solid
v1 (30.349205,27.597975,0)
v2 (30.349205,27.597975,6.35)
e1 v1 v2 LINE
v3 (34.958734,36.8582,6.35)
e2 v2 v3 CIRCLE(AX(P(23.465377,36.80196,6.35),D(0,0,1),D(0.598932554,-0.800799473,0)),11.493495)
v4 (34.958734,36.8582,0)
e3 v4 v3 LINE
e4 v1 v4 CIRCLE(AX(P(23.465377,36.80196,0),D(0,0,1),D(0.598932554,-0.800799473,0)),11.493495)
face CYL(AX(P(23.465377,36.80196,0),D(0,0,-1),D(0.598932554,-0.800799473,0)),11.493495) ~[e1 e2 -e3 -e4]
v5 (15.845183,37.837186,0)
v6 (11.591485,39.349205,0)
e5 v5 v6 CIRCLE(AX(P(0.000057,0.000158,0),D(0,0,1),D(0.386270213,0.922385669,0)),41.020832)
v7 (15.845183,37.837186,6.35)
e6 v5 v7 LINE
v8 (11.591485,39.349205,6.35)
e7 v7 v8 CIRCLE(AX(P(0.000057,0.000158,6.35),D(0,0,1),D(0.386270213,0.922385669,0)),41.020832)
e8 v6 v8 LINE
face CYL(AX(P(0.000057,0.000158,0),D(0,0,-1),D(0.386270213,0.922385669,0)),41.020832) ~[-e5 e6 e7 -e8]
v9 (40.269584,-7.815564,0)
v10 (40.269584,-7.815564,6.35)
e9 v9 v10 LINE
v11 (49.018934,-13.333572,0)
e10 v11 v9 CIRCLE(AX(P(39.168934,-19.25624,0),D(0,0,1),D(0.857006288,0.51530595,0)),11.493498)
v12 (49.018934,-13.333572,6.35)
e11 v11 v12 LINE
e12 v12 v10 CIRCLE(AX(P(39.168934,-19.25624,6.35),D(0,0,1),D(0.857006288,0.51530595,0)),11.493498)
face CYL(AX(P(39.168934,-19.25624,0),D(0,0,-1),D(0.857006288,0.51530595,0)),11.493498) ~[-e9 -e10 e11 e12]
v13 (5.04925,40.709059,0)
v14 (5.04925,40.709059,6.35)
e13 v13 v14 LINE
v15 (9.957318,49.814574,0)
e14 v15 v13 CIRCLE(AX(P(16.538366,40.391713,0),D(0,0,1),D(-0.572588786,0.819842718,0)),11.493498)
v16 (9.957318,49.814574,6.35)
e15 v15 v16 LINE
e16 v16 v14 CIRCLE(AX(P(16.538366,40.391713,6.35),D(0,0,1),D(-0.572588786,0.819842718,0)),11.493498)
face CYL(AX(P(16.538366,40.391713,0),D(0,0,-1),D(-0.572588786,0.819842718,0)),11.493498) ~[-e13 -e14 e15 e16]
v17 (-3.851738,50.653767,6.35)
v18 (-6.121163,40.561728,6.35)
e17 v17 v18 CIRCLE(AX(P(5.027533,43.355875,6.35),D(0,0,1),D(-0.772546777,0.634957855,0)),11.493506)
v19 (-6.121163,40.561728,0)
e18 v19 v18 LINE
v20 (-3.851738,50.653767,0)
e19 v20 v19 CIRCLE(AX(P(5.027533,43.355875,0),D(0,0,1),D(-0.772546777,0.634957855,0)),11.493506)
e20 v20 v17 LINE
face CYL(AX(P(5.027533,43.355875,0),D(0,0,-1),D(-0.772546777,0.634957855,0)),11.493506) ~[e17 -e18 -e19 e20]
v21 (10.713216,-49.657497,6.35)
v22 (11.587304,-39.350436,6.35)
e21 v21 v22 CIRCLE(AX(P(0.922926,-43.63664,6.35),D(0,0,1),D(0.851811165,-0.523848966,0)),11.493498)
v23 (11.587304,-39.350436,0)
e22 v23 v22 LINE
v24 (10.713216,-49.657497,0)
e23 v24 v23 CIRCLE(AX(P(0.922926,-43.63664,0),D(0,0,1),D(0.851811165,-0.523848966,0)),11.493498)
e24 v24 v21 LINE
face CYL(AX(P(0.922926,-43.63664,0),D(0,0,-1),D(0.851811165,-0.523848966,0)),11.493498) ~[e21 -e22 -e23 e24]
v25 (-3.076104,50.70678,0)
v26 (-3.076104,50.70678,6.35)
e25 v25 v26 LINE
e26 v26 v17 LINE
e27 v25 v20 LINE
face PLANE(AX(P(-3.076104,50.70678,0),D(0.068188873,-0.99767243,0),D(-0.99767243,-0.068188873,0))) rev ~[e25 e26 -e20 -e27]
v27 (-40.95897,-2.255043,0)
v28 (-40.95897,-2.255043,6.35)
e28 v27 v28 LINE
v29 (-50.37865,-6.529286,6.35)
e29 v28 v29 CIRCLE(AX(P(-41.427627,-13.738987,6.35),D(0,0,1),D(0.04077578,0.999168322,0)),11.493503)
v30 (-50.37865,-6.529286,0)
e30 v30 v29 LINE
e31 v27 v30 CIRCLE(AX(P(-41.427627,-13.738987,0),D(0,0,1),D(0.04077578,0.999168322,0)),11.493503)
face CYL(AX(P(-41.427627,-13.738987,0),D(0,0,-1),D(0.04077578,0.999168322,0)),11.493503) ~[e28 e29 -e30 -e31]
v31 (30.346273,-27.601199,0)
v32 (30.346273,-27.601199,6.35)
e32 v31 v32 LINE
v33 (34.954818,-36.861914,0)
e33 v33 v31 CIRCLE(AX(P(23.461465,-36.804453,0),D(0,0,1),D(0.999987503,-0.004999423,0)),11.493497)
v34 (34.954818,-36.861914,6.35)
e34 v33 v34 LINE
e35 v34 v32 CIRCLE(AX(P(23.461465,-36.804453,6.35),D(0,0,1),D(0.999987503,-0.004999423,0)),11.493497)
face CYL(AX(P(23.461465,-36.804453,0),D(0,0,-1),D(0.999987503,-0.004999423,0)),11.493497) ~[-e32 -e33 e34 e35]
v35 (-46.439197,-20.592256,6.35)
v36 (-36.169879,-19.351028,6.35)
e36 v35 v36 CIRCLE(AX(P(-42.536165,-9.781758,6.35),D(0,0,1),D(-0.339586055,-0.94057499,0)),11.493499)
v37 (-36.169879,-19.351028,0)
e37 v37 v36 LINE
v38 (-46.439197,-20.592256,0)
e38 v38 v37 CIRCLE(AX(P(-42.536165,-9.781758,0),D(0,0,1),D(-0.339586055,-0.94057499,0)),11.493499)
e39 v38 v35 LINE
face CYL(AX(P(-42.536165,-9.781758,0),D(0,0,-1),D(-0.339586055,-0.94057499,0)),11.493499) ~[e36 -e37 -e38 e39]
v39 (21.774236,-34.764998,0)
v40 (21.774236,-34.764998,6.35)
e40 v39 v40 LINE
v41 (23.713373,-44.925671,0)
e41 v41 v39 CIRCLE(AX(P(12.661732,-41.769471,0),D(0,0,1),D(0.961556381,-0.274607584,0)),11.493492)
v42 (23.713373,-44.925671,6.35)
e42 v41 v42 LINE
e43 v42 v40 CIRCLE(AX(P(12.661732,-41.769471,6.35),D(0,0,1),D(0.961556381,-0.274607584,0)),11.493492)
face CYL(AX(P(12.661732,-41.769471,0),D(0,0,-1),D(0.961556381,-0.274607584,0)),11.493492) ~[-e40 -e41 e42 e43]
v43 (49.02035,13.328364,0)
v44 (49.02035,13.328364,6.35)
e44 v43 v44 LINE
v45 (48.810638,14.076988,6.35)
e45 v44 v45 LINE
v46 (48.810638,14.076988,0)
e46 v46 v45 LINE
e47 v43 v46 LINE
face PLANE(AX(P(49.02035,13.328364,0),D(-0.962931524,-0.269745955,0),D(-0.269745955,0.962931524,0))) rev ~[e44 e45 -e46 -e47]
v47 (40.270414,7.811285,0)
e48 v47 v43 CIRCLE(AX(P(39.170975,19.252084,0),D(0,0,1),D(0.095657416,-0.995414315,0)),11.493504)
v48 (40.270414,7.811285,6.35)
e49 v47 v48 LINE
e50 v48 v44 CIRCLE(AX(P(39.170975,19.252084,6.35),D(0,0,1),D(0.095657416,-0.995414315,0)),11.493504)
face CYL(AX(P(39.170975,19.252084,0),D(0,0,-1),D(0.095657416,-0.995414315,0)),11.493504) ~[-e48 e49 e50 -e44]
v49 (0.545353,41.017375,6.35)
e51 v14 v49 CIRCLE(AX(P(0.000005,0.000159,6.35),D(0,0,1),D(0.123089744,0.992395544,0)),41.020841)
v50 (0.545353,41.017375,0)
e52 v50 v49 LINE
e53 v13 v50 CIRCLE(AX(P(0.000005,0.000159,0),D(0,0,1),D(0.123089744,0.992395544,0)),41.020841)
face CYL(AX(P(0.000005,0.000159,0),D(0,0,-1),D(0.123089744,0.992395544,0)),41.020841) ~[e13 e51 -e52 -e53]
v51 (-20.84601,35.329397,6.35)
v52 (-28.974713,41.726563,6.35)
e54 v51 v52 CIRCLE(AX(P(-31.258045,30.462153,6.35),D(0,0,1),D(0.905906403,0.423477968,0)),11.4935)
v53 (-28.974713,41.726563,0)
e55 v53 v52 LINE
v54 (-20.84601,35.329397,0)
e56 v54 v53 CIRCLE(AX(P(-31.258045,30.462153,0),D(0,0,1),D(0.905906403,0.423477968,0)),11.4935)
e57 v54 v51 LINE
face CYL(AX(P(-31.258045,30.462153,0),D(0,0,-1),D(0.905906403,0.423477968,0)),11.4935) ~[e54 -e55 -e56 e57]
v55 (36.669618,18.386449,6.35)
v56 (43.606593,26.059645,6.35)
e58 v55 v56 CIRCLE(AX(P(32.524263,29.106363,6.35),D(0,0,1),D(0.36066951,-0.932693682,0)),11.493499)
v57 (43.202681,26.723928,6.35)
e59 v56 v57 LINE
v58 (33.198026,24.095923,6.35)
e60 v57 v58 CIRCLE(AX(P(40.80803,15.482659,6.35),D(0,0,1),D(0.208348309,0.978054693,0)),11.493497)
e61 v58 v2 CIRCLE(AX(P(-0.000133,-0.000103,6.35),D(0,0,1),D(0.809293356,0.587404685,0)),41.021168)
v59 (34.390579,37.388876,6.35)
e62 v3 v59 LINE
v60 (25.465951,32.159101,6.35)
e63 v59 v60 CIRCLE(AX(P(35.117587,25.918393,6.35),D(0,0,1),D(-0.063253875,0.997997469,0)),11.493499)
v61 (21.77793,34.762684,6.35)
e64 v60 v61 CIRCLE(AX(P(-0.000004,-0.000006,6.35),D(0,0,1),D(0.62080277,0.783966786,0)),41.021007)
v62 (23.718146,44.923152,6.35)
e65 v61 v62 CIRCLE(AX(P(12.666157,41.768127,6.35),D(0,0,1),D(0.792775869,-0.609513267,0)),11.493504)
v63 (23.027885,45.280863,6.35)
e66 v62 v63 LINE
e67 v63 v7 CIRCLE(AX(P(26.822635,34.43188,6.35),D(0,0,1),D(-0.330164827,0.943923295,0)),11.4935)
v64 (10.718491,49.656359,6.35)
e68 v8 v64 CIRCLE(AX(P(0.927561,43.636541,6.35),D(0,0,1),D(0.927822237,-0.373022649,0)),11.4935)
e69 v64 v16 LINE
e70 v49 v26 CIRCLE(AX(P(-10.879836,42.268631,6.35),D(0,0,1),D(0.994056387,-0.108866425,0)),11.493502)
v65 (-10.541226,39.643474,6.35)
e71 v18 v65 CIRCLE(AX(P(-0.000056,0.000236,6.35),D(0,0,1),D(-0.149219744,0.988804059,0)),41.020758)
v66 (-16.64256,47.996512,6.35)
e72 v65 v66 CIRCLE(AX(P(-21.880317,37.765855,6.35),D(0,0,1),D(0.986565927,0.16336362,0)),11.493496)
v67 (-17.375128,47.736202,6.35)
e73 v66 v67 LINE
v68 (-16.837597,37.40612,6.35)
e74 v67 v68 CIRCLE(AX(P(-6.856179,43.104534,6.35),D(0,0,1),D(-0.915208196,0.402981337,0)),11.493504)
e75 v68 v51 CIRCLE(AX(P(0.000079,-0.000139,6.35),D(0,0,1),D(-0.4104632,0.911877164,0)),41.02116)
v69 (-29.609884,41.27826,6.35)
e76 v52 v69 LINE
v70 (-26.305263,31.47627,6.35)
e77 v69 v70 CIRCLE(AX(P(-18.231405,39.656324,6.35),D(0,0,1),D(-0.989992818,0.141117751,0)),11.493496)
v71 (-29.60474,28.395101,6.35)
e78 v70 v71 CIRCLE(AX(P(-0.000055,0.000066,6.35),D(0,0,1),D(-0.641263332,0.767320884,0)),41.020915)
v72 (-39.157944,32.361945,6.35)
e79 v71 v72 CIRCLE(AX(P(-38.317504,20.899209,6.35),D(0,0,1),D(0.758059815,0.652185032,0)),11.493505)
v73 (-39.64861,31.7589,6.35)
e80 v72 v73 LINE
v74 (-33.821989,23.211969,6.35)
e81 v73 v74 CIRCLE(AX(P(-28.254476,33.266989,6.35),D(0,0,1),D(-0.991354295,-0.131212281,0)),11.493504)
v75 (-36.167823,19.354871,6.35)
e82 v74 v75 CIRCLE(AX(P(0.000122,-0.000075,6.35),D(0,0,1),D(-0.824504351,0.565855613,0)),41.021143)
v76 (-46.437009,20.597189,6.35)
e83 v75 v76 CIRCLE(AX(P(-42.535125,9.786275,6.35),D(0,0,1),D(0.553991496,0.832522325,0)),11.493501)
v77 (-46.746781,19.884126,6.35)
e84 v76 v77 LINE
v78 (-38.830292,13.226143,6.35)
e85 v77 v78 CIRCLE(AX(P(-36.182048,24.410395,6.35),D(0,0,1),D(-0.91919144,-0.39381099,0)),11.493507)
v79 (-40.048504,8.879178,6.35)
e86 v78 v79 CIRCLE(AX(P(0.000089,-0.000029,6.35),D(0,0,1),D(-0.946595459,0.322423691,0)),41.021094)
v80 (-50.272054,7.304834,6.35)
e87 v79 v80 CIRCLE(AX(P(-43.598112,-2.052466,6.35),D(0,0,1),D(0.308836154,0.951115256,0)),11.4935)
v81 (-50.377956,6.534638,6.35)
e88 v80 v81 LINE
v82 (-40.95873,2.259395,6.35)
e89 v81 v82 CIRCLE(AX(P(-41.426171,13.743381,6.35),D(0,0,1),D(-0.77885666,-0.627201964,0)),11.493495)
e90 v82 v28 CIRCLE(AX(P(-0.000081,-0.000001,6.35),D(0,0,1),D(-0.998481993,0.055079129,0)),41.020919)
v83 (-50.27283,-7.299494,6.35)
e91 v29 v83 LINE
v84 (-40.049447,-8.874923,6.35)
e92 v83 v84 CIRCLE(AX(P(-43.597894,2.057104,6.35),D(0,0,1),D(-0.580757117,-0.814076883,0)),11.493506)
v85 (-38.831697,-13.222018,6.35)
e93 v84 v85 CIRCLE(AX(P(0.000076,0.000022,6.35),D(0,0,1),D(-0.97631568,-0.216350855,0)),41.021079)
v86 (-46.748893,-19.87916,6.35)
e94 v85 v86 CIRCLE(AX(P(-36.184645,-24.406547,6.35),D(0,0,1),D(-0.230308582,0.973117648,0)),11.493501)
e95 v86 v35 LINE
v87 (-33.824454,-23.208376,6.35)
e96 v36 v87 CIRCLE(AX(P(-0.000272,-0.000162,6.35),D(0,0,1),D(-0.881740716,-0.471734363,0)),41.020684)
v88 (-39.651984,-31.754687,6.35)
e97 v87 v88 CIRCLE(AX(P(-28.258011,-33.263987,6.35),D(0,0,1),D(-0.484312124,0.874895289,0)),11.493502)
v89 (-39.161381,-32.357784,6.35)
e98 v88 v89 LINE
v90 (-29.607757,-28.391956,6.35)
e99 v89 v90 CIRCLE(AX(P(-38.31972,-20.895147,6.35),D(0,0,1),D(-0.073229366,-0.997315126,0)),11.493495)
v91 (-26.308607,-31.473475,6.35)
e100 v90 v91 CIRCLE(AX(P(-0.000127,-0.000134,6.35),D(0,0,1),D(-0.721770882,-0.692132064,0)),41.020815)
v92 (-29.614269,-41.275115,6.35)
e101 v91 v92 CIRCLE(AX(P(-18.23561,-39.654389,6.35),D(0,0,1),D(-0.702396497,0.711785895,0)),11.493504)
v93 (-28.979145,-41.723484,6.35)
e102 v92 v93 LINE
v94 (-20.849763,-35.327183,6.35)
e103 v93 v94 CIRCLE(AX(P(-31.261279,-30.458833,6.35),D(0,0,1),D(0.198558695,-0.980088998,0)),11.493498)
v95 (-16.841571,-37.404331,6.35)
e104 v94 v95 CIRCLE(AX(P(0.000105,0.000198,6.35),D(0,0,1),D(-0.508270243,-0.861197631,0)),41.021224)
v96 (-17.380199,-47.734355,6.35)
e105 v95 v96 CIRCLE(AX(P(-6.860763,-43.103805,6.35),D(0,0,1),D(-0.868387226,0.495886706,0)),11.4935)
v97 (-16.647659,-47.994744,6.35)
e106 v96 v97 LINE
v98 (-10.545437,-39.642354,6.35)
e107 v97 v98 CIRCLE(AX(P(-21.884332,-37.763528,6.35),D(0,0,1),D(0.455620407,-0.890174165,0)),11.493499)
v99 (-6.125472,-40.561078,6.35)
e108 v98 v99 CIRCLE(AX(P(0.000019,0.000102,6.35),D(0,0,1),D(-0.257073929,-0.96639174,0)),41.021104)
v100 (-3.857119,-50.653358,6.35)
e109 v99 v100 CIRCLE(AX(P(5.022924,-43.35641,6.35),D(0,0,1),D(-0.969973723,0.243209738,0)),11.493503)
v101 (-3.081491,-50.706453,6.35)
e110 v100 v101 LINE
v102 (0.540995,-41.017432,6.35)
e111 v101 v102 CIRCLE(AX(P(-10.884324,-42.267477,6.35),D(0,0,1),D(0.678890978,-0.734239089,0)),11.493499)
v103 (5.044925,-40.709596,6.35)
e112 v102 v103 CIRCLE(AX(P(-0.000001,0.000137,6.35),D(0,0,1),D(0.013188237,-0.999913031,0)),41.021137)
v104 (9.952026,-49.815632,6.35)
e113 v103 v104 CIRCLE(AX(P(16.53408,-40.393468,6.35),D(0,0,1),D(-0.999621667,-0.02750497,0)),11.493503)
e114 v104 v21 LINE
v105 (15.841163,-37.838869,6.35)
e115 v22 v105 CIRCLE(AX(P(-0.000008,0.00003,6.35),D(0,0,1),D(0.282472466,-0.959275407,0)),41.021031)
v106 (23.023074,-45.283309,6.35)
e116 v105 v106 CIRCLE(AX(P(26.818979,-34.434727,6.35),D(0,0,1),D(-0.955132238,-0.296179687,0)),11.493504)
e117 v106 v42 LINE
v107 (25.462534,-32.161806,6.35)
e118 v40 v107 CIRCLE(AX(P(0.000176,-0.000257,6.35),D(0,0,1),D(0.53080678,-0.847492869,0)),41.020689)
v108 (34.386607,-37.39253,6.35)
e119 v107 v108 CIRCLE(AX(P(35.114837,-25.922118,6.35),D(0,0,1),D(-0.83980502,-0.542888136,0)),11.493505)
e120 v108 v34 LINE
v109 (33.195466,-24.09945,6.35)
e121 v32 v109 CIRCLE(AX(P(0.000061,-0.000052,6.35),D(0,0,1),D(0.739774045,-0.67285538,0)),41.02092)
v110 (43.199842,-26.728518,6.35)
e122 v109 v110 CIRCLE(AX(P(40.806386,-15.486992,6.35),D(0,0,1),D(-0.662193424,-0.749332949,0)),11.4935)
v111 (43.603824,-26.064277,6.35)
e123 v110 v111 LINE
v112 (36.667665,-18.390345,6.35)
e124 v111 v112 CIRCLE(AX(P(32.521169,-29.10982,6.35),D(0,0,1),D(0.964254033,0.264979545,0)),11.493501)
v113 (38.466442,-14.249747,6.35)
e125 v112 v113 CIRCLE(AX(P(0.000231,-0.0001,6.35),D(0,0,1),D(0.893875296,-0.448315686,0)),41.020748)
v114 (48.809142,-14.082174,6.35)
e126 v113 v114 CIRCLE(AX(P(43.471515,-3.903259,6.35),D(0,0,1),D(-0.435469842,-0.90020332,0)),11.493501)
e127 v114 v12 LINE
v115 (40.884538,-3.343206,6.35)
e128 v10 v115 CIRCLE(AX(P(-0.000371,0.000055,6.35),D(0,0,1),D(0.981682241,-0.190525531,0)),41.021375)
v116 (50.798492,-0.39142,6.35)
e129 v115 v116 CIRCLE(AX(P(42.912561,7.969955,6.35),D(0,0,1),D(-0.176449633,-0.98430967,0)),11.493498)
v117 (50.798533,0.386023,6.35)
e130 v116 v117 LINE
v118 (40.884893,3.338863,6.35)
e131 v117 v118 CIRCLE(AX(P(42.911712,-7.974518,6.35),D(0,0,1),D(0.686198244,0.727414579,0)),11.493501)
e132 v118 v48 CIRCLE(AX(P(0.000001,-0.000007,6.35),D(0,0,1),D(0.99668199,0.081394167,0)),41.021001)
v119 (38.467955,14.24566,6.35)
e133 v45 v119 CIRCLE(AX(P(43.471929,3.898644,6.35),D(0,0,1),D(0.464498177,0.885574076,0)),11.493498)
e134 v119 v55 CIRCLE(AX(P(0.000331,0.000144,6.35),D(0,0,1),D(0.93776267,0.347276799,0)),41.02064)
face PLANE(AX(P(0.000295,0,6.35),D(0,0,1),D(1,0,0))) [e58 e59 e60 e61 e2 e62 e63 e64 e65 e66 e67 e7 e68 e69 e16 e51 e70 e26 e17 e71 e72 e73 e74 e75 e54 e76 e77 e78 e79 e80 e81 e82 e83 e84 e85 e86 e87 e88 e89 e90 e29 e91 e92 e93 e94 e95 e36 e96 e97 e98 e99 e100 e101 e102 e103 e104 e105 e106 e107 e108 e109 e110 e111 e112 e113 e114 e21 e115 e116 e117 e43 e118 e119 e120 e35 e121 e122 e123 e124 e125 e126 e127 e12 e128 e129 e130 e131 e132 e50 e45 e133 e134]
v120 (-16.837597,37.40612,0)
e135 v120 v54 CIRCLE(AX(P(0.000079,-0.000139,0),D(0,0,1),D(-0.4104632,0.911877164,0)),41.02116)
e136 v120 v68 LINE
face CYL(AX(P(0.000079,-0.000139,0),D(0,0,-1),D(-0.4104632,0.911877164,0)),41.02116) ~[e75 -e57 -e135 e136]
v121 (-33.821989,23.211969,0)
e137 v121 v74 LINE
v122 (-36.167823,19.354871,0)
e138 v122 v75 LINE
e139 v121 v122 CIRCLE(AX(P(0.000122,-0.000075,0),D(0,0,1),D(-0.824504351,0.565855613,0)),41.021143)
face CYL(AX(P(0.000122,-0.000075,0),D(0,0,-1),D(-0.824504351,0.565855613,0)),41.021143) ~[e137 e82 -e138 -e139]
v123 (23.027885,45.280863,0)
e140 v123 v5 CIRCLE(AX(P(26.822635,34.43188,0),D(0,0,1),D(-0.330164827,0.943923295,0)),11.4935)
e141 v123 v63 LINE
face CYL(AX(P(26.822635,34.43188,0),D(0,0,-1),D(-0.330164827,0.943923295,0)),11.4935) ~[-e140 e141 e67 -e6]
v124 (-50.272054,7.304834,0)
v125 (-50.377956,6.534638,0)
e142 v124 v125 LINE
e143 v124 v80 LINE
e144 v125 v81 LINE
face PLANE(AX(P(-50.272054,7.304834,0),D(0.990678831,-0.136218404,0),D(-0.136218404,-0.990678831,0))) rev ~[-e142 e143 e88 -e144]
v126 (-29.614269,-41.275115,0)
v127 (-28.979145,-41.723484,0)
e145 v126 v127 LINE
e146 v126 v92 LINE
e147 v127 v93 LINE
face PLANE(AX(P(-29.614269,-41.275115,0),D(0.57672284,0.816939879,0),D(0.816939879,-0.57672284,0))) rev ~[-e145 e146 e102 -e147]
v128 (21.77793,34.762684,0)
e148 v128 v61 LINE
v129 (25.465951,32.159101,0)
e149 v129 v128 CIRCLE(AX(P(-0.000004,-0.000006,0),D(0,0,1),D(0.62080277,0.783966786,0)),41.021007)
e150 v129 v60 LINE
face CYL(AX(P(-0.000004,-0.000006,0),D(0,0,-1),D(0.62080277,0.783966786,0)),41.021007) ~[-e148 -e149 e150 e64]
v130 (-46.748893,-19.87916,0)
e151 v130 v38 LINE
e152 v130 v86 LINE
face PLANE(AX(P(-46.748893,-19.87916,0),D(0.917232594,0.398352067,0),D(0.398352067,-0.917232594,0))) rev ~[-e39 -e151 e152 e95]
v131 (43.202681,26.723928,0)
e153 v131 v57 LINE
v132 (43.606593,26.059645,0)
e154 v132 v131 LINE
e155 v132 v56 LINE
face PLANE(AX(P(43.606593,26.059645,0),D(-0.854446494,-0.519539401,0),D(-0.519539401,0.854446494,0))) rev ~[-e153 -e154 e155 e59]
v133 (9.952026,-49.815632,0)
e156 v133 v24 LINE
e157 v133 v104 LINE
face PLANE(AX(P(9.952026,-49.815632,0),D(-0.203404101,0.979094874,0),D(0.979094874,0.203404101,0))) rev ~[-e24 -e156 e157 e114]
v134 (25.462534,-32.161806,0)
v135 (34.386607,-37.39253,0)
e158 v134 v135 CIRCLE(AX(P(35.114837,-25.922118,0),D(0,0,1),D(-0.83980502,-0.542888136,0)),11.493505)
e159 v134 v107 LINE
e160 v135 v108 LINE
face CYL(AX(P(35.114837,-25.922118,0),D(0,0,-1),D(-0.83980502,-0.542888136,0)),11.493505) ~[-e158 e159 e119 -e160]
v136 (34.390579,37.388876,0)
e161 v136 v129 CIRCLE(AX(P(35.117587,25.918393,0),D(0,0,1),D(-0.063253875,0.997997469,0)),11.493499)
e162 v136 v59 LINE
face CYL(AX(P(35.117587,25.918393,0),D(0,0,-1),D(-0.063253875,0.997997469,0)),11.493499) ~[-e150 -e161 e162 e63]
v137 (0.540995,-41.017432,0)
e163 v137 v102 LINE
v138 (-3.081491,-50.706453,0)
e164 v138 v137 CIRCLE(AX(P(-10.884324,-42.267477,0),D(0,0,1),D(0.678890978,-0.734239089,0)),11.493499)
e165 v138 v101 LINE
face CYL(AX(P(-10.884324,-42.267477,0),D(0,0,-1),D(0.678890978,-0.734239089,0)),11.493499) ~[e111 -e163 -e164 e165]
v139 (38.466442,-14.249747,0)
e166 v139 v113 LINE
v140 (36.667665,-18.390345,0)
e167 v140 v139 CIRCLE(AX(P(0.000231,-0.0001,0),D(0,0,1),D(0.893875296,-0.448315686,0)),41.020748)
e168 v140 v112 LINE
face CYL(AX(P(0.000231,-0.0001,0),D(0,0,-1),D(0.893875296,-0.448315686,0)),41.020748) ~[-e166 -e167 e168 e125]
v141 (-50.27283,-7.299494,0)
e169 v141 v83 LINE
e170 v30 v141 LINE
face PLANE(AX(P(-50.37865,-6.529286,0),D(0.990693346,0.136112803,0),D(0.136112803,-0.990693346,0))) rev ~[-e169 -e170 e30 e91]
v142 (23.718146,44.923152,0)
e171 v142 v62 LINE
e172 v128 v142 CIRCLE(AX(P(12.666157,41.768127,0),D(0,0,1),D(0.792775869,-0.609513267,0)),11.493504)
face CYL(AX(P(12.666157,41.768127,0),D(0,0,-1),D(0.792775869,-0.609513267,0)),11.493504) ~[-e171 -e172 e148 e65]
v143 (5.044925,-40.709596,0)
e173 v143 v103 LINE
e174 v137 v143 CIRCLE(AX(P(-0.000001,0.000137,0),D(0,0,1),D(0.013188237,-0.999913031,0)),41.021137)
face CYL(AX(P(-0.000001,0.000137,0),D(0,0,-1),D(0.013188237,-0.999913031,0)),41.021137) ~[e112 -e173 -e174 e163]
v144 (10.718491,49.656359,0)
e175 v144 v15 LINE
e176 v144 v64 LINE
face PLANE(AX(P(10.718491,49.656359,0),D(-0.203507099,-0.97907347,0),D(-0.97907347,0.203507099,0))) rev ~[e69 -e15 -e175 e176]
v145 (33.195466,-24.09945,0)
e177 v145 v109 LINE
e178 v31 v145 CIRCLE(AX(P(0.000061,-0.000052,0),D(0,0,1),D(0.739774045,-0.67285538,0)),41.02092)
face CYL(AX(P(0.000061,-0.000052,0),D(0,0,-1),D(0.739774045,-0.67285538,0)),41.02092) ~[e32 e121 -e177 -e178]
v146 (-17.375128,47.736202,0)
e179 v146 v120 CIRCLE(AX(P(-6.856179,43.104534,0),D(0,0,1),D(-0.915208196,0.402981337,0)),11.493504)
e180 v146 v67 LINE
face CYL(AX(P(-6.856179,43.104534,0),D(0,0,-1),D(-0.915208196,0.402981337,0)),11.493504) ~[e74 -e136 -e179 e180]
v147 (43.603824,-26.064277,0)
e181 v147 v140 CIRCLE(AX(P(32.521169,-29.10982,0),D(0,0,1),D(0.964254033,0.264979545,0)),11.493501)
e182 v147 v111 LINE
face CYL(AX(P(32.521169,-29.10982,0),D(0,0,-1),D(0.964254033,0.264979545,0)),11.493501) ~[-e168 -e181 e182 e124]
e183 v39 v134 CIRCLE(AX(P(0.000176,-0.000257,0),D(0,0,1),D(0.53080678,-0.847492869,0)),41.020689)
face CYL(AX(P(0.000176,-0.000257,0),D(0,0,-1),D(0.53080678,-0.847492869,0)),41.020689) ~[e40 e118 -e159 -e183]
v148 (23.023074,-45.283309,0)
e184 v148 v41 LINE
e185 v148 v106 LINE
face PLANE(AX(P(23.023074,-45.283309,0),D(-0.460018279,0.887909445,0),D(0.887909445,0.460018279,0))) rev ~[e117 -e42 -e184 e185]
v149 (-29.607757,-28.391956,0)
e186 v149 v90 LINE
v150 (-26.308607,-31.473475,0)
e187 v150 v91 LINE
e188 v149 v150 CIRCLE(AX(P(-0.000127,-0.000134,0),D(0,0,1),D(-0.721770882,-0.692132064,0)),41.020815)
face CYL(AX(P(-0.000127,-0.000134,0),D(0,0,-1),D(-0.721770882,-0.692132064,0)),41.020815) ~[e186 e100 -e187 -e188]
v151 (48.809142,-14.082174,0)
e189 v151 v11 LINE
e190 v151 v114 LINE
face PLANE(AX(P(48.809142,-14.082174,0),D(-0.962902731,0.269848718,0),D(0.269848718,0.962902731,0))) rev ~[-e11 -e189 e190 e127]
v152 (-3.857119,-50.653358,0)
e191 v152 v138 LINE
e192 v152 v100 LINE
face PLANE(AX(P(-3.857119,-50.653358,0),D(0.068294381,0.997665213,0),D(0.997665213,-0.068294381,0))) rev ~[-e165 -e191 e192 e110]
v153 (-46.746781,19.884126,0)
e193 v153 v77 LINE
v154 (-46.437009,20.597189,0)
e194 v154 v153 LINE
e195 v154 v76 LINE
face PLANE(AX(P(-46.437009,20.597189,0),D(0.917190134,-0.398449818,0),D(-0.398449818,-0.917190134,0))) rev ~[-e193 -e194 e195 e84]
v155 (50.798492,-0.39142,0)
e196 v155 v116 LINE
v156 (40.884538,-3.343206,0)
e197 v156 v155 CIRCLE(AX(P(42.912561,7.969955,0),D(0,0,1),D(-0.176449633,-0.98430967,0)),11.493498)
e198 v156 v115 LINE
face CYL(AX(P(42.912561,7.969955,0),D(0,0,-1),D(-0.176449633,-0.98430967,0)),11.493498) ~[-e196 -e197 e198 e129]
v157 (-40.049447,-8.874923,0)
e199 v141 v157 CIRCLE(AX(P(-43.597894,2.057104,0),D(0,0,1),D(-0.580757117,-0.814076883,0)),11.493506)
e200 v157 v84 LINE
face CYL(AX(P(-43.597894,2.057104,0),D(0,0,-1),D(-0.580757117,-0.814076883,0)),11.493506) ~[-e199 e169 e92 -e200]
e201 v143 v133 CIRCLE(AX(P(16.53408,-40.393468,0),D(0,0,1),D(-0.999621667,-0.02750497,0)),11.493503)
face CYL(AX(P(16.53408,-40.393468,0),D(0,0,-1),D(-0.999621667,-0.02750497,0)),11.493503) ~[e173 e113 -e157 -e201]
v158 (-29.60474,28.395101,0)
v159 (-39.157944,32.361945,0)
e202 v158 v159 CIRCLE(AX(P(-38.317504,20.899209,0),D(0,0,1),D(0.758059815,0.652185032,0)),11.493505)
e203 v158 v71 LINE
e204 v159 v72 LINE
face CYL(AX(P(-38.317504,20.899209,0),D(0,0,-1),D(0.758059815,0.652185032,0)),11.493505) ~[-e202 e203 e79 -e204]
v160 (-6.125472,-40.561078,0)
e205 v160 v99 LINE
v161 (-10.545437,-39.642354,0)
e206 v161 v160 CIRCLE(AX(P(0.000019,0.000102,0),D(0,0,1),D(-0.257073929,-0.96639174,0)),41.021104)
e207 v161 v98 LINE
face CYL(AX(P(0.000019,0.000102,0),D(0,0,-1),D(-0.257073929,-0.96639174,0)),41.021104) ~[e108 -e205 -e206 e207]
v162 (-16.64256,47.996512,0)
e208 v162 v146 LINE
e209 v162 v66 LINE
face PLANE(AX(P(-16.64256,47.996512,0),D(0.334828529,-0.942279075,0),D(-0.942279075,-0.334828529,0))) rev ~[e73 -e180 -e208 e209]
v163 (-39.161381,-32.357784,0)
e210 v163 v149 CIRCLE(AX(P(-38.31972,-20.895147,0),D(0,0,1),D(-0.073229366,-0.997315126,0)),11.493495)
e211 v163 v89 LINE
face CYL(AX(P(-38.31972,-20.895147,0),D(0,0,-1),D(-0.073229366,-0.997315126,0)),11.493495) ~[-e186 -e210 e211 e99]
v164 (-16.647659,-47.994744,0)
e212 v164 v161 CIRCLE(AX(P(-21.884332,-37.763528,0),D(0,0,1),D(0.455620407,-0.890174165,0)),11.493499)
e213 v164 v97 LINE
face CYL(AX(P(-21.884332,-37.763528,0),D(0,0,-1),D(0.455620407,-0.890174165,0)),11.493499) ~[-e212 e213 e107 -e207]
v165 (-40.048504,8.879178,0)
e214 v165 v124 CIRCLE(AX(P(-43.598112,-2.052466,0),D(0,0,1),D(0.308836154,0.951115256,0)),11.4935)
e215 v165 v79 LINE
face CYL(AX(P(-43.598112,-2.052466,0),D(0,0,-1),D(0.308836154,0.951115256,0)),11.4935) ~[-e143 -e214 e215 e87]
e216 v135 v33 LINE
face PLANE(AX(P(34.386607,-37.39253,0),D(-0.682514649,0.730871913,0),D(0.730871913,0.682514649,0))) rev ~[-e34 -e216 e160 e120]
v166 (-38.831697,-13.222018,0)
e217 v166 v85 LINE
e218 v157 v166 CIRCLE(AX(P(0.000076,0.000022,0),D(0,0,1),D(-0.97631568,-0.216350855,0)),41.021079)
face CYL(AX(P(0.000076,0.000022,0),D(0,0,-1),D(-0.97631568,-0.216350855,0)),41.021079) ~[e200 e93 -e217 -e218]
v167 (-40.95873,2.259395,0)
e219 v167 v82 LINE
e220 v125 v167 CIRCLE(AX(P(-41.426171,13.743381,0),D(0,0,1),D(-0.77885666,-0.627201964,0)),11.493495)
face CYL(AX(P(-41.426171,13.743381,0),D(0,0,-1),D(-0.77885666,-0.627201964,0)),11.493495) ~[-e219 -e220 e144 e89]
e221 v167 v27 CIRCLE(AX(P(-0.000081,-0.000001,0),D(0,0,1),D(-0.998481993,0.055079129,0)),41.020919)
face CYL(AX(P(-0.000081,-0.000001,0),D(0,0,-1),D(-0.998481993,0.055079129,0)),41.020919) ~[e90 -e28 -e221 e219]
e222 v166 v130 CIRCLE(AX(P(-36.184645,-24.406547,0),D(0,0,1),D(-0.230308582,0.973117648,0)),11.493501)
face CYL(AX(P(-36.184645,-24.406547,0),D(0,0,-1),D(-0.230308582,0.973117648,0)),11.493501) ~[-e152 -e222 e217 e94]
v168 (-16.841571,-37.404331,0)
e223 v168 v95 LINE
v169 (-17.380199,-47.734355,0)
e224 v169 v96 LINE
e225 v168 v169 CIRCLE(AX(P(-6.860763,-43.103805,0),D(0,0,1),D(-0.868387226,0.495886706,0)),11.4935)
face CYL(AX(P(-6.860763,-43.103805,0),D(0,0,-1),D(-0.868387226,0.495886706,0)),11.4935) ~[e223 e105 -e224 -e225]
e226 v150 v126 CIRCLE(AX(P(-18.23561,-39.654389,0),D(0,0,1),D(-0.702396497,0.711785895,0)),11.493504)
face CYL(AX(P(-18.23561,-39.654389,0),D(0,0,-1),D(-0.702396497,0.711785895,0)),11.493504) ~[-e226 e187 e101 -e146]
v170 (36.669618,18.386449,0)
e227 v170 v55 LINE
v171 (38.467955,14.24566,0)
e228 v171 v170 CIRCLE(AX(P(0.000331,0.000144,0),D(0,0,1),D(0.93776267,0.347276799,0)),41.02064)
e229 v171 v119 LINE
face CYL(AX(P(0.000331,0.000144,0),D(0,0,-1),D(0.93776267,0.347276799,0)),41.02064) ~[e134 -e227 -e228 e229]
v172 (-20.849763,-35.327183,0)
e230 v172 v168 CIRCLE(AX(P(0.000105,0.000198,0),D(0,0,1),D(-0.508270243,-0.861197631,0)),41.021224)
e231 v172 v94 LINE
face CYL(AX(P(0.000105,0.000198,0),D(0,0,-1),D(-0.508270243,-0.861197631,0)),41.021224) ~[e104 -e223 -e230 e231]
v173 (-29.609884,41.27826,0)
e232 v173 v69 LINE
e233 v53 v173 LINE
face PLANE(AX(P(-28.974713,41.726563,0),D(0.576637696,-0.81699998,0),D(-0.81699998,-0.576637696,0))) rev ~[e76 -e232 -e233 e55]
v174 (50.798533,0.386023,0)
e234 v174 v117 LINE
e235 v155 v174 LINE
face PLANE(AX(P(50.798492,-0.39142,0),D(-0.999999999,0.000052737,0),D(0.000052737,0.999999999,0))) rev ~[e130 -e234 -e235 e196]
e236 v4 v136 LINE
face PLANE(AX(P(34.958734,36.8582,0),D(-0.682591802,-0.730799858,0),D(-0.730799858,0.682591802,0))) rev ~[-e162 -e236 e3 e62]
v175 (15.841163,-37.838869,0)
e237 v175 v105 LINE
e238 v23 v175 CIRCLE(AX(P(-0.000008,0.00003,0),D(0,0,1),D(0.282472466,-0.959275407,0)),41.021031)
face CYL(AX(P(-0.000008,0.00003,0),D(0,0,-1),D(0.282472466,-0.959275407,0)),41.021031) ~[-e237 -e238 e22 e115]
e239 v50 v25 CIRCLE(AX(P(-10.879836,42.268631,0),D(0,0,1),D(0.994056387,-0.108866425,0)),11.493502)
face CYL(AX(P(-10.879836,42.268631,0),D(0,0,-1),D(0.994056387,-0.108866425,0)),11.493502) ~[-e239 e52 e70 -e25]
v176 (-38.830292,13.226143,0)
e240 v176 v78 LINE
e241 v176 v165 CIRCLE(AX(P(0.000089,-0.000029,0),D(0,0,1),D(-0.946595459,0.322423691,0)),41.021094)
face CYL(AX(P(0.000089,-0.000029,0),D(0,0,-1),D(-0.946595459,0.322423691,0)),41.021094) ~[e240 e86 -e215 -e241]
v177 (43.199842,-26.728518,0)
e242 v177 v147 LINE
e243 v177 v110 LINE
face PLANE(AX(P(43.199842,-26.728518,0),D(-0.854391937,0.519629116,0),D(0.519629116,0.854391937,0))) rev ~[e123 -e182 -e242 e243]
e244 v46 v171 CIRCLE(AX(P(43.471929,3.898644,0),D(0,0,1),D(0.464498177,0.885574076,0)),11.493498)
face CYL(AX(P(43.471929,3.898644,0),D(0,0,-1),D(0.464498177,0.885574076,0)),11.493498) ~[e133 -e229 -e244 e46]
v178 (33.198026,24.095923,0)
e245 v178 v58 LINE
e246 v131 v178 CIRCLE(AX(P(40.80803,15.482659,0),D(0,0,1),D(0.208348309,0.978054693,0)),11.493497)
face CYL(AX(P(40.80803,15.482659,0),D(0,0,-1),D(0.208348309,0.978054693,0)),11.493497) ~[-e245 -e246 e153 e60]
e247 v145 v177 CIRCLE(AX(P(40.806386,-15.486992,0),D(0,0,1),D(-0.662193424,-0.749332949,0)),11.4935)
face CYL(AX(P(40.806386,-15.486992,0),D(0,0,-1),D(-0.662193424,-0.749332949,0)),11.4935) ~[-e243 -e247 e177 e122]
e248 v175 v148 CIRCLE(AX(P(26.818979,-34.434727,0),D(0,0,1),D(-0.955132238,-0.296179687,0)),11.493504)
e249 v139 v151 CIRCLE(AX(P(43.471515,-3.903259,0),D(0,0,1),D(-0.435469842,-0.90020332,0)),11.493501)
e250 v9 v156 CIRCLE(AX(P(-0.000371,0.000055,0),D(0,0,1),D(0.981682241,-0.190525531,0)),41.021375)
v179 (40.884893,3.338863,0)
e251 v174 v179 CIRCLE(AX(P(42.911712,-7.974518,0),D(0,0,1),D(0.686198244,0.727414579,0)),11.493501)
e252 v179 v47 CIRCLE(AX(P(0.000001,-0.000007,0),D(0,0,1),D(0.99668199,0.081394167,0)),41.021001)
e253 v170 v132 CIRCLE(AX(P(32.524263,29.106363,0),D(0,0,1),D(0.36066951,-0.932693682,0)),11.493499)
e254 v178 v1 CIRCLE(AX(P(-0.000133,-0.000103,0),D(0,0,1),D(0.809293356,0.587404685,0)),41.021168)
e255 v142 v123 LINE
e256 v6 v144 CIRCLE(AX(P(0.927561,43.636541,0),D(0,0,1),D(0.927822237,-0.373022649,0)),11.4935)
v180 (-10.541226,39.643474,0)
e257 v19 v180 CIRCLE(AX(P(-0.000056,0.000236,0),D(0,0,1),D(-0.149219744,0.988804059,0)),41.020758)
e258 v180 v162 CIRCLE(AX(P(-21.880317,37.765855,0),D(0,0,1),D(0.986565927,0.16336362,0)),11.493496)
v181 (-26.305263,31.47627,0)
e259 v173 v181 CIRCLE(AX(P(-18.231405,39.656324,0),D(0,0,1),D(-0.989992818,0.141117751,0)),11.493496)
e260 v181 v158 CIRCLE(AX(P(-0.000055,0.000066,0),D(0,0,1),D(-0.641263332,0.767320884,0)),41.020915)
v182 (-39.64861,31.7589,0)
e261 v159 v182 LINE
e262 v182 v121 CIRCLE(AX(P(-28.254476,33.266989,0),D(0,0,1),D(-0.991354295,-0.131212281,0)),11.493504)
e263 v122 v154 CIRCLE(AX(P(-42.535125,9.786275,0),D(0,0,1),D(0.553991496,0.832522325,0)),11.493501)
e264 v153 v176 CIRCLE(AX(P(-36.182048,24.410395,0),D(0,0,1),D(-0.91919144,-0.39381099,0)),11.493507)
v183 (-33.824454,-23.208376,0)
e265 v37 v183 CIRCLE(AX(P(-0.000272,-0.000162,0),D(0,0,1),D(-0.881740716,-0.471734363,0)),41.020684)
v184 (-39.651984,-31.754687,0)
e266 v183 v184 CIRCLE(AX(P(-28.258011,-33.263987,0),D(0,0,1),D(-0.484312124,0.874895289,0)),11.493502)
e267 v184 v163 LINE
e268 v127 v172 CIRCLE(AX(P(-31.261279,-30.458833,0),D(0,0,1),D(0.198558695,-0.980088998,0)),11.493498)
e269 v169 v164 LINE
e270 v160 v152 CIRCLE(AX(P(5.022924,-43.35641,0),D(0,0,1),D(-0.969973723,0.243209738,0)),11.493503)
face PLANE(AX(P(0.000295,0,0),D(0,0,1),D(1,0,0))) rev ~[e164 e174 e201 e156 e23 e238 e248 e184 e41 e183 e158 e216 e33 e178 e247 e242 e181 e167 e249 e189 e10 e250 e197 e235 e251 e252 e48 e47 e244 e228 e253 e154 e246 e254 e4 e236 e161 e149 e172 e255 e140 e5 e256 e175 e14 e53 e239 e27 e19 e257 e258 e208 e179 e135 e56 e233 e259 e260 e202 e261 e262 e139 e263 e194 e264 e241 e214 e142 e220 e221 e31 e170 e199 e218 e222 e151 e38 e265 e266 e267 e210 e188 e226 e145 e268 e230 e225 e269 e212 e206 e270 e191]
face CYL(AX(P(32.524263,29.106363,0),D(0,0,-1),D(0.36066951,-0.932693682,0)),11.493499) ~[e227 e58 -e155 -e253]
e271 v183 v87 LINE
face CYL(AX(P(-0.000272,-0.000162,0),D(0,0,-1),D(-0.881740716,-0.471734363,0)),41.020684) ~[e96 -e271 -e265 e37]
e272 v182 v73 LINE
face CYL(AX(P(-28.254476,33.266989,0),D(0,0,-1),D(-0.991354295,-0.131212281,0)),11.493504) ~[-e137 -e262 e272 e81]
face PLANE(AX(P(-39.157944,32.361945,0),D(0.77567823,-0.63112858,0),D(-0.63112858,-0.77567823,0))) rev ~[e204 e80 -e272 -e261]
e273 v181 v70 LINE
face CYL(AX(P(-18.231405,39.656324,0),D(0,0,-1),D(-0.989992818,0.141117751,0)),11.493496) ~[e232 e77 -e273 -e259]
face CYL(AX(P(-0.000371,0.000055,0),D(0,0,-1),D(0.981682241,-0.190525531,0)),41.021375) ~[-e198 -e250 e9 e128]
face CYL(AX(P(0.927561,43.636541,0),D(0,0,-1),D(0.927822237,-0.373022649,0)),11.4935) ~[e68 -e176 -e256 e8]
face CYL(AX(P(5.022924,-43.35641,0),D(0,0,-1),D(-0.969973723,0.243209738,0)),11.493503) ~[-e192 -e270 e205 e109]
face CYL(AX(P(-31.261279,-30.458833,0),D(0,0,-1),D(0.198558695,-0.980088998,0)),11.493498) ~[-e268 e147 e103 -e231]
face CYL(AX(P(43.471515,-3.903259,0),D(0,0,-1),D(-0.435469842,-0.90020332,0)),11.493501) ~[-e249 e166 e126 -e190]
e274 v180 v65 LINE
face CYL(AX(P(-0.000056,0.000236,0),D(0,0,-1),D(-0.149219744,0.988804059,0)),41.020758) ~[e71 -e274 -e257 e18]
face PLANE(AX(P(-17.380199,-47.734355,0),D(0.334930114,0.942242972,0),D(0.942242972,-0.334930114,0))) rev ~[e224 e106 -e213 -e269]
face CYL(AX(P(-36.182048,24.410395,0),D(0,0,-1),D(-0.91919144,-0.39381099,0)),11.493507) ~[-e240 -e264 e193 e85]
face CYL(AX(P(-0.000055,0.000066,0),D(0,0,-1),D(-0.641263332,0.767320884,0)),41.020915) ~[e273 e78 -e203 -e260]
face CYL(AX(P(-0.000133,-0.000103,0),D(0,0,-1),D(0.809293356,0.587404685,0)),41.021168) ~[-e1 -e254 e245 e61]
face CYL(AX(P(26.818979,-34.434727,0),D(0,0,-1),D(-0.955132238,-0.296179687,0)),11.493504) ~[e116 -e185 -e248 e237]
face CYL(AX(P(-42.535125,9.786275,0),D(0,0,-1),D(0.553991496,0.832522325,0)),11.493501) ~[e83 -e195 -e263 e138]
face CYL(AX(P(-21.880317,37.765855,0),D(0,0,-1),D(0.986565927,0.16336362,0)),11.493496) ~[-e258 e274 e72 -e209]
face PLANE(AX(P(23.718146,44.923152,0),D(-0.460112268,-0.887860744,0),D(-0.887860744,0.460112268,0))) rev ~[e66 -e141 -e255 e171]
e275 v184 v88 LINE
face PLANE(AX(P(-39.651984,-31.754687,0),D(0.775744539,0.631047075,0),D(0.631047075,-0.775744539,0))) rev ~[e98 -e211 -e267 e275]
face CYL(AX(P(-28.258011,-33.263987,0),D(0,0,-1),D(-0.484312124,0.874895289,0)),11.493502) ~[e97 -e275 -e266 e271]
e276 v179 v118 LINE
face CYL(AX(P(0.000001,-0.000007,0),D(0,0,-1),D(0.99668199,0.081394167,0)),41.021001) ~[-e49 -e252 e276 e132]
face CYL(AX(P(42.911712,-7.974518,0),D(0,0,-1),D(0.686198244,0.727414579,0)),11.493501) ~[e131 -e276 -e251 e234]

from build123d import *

# Parameters (mm, degrees)
F1_DEPTH = 6.35


with BuildPart() as f1:
    # F0 (on Top) → F1 (new body)
    with BuildSketch(Plane.XY):
        with BuildLine():
            ThreePointArc((40.884538, -3.343206), (40.98687, -1.672995), (41.021, 0))
            ThreePointArc((41.021, 0), (40.986959, 1.670818), (40.884893, 3.338863))
            ThreePointArc((40.884893, 3.338863), (40.639225, 5.583533), (40.270414, 7.811285))
            ThreePointArc((40.270414, 7.811285), (39.500418, 11.065235), (38.467955, 14.24566))
            ThreePointArc((38.467955, 14.24566), (37.625793, 16.340812), (36.669618, 18.386449))
            ThreePointArc((36.669618, 18.386449), (35.050271, 21.311991), (33.198026, 24.095923))
            ThreePointArc((33.198026, 24.095923), (31.821828, 25.886168), (30.349205, 27.597975))
            ThreePointArc((30.349205, 27.597975), (28.000605, 29.978135), (25.465951, 32.159101))
            ThreePointArc((25.465951, 32.159101), (23.657784, 33.511665), (21.77793, 34.762684))
            ThreePointArc((21.77793, 34.762684), (18.874263, 36.420937), (15.845183, 37.837186))
            ThreePointArc((15.845183, 37.837186), (13.73915, 38.651756), (11.591485, 39.349205))
            ThreePointArc((11.591485, 39.349205), (8.348103, 40.162565), (5.04925, 40.709059))
            ThreePointArc((5.04925, 40.709059), (2.801546, 40.925222), (0.545353, 41.017375))
            ThreePointArc((0.545353, 41.017375), (-2.797198, 40.925519), (-6.121163, 40.561728))
            ThreePointArc((-6.121163, 40.561728), (-8.343836, 40.163452), (-10.541226, 39.643474))
            ThreePointArc((-10.541226, 39.643474), (-13.735043, 38.653215), (-16.837597, 37.40612))
            ThreePointArc((-16.837597, 37.40612), (-18.870393, 36.422942), (-20.84601, 35.329397))
            ThreePointArc((-20.84601, 35.329397), (-23.654223, 33.514179), (-26.305263, 31.47627))
            ThreePointArc((-26.305263, 31.47627), (-27.99742, 29.981109), (-29.60474, 28.395101))
            ThreePointArc((-29.60474, 28.395101), (-31.819078, 25.889549), (-33.821989, 23.211969))
            ThreePointArc((-33.821989, 23.211969), (-35.048006, 21.315715), (-36.167823, 19.354871))
            ThreePointArc((-36.167823, 19.354871), (-37.624057, 16.34481), (-38.830292, 13.226143))
            ThreePointArc((-38.830292, 13.226143), (-39.499242, 11.069432), (-40.048504, 8.879178))
            ThreePointArc((-40.048504, 8.879178), (-40.638631, 5.587851), (-40.95873, 2.259395))
            ThreePointArc((-40.95873, 2.259395), (-41.021, 0.002179), (-40.95897, -2.255043))
            ThreePointArc((-40.95897, -2.255043), (-40.639225, -5.583533), (-40.049447, -8.874923))
            ThreePointArc((-40.049447, -8.874923), (-39.500418, -11.065235), (-38.831697, -13.222018))
            ThreePointArc((-38.831697, -13.222018), (-37.625793, -16.340812), (-36.169879, -19.351028))
            ThreePointArc((-36.169879, -19.351028), (-35.050271, -21.311991), (-33.824454, -23.208376))
            ThreePointArc((-33.824454, -23.208376), (-31.821828, -25.886168), (-29.607757, -28.391956))
            ThreePointArc((-29.607757, -28.391956), (-28.000605, -29.978135), (-26.308607, -31.473475))
            ThreePointArc((-26.308607, -31.473475), (-23.657784, -33.511665), (-20.849763, -35.327183))
            ThreePointArc((-20.849763, -35.327183), (-18.874263, -36.420937), (-16.841571, -37.404331))
            ThreePointArc((-16.841571, -37.404331), (-13.73915, -38.651756), (-10.545437, -39.642354))
            ThreePointArc((-10.545437, -39.642354), (-8.348103, -40.162565), (-6.125472, -40.561078))
            ThreePointArc((-6.125472, -40.561078), (-2.801546, -40.925222), (0.540995, -41.017432))
            ThreePointArc((0.540995, -41.017432), (2.797198, -40.925519), (5.044925, -40.709596))
            ThreePointArc((5.044925, -40.709596), (8.343836, -40.163452), (11.587304, -39.350436))
            ThreePointArc((11.587304, -39.350436), (13.735043, -38.653215), (15.841163, -37.838869))
            ThreePointArc((15.841163, -37.838869), (18.870393, -36.422942), (21.774236, -34.764998))
            ThreePointArc((21.774236, -34.764998), (23.654223, -33.514179), (25.462534, -32.161806))
            ThreePointArc((25.462534, -32.161806), (27.99742, -29.981109), (30.346273, -27.601199))
            ThreePointArc((30.346273, -27.601199), (31.819078, -25.889549), (33.195466, -24.09945))
            ThreePointArc((33.195466, -24.09945), (35.048006, -21.315715), (36.667665, -18.390345))
            ThreePointArc((36.667665, -18.390345), (37.624057, -16.34481), (38.466442, -14.249747))
            ThreePointArc((38.466442, -14.249747), (39.499242, -11.069432), (40.269584, -7.815564))
            ThreePointArc((40.269584, -7.815564), (40.638631, -5.587851), (40.884538, -3.343206))
        make_face()
        with BuildLine():
            ThreePointArc((40.884893, 3.338863), (40.986959, 1.670818), (41.021, 0))
            ThreePointArc((41.021, 0), (40.98687, -1.672995), (40.884538, -3.343206))
            ThreePointArc((40.884538, -3.343206), (46.192352, -3.045646), (50.798492, -0.39142))
            Line((50.798492, -0.39142), (50.798533, 0.386023))
            ThreePointArc((50.798533, 0.386023), (46.192676, 3.040738), (40.884893, 3.338863))
        make_face()
        with BuildLine():
            ThreePointArc((38.467955, 14.24566), (39.500418, 11.065235), (40.270414, 7.811285))
            ThreePointArc((40.270414, 7.811285), (45.30112, 9.529843), (49.02035, 13.328364))
            Line((49.02035, 13.328364), (48.810638, 14.076988))
            ThreePointArc((48.810638, 14.076988), (43.659344, 15.390614), (38.467955, 14.24566))
        make_face()
        with BuildLine():
            ThreePointArc((49.018934, -13.333572), (45.300107, -9.534655), (40.269584, -7.815564))
            ThreePointArc((40.269584, -7.815564), (39.499242, -11.069432), (38.466442, -14.249747))
            ThreePointArc((38.466442, -14.249747), (43.657709, -15.395252), (48.809142, -14.082174))
            Line((48.809142, -14.082174), (49.018934, -13.333572))
        make_face()
        with BuildLine():
            ThreePointArc((33.198026, 24.095923), (35.050271, 21.311991), (36.669618, 18.386449))
            ThreePointArc((36.669618, 18.386449), (41.050111, 21.398546), (43.606593, 26.059645))
            Line((43.606593, 26.059645), (43.202681, 26.723928))
            ThreePointArc((43.202681, 26.723928), (37.888, 26.599039), (33.198026, 24.095923))
        make_face()
        with BuildLine():
            ThreePointArc((43.603824, -26.064277), (41.047837, -21.402907), (36.667665, -18.390345))
            ThreePointArc((36.667665, -18.390345), (35.048006, -21.315715), (33.195466, -24.09945))
            ThreePointArc((33.195466, -24.09945), (37.885174, -26.603064), (43.199842, -26.728518))
            Line((43.199842, -26.728518), (43.603824, -26.064277))
        make_face()
        with BuildLine():
            ThreePointArc((25.465951, 32.159101), (28.000605, 29.978135), (30.349205, 27.597975))
            ThreePointArc((30.349205, 27.597975), (33.754603, 31.680217), (34.958734, 36.8582))
            Line((34.958734, 36.8582), (34.390579, 37.388876))
            ThreePointArc((34.390579, 37.388876), (29.306675, 35.834734), (25.465951, 32.159101))
        make_face()
        with BuildLine():
            ThreePointArc((34.954818, -36.861914), (33.751237, -31.683803), (30.346273, -27.601199))
            ThreePointArc((30.346273, -27.601199), (27.99742, -29.981109), (25.462534, -32.161806))
            ThreePointArc((25.462534, -32.161806), (29.302868, -35.837847), (34.386607, -37.39253))
            Line((34.386607, -37.39253), (34.954818, -36.861914))
        make_face()
        with BuildLine():
            ThreePointArc((15.845183, 37.837186), (18.874263, 36.420937), (21.77793, 34.762684))
            ThreePointArc((21.77793, 34.762684), (23.95567, 39.612312), (23.718146, 44.923152))
            Line((23.718146, 44.923152), (23.027885, 45.280863))
            ThreePointArc((23.027885, 45.280863), (18.551808, 42.412731), (15.845183, 37.837186))
        make_face()
        with BuildLine():
            ThreePointArc((23.713373, -44.925671), (23.951462, -39.614856), (21.774236, -34.764998))
            ThreePointArc((21.774236, -34.764998), (18.870393, -36.422942), (15.841163, -37.838869))
            ThreePointArc((15.841163, -37.838869), (18.547303, -42.414702), (23.023074, -45.283309))
            Line((23.023074, -45.283309), (23.713373, -44.925671))
        make_face()
        with BuildLine():
            ThreePointArc((5.04925, 40.709059), (8.348103, 40.162565), (11.591485, 39.349205))
            ThreePointArc((11.591485, 39.349205), (12.380055, 44.606542), (10.718491, 49.656359))
            Line((10.718491, 49.656359), (9.957318, 49.814574))
            ThreePointArc((9.957318, 49.814574), (6.421039, 45.84517), (5.04925, 40.709059))
        make_face()
        with BuildLine():
            ThreePointArc((10.713216, -49.657497), (12.375316, -44.607857), (11.587304, -39.350436))
            ThreePointArc((11.587304, -39.350436), (8.343836, -40.163452), (5.044925, -40.709596))
            ThreePointArc((5.044925, -40.709596), (6.416169, -45.845852), (9.952026, -49.815632))
            Line((9.952026, -49.815632), (10.713216, -49.657497))
        make_face()
        with BuildLine():
            ThreePointArc((-6.121163, 40.561728), (-2.797198, 40.925519), (0.545353, 41.017375))
            ThreePointArc((0.545353, 41.017375), (-0.113732, 46.292509), (-3.076104, 50.70678))
            Line((-3.076104, 50.70678), (-3.851738, 50.653767))
            ThreePointArc((-3.851738, 50.653767), (-6.185949, 45.877482), (-6.121163, 40.561728))
        make_face()
        with BuildLine():
            ThreePointArc((-3.081491, -50.706453), (-0.11865, -46.292497), (0.540995, -41.017432))
            ThreePointArc((0.540995, -41.017432), (-2.801546, -40.925222), (-6.125472, -40.561078))
            ThreePointArc((-6.125472, -40.561078), (-6.190823, -45.876825), (-3.857119, -50.653358))
            Line((-3.857119, -50.653358), (-3.081491, -50.706453))
        make_face()
        with BuildLine():
            ThreePointArc((-16.837597, 37.40612), (-13.735043, 38.653215), (-10.541226, 39.643474))
            ThreePointArc((-10.541226, 39.643474), (-12.599084, 44.545173), (-16.64256, 47.996512))
            Line((-16.64256, 47.996512), (-17.375128, 47.736202))
            ThreePointArc((-17.375128, 47.736202), (-18.334154, 42.507272), (-16.837597, 37.40612))
        make_face()
        with BuildLine():
            ThreePointArc((-16.647659, -47.994744), (-12.603816, -44.543834), (-10.545437, -39.642354))
            ThreePointArc((-10.545437, -39.642354), (-13.73915, -38.651756), (-16.841571, -37.404331))
            ThreePointArc((-16.841571, -37.404331), (-18.33867, -42.505324), (-17.380199, -47.734355))
            Line((-17.380199, -47.734355), (-16.647659, -47.994744))
        make_face()
        with BuildLine():
            ThreePointArc((-26.305263, 31.47627), (-23.654223, 33.514179), (-20.84601, 35.329397))
            ThreePointArc((-20.84601, 35.329397), (-24.15002, 39.494125), (-28.974713, 41.726563))
            Line((-28.974713, 41.726563), (-29.609884, 41.27826))
            ThreePointArc((-29.609884, 41.27826), (-29.122599, 35.984491), (-26.305263, 31.47627))
        make_face()
        with BuildLine():
            ThreePointArc((-28.979145, -41.723484), (-24.154215, -39.491559), (-20.849763, -35.327183))
            ThreePointArc((-20.849763, -35.327183), (-23.657784, -33.511665), (-26.308607, -31.473475))
            ThreePointArc((-26.308607, -31.473475), (-29.126421, -35.981397), (-29.614269, -41.275115))
            Line((-29.614269, -41.275115), (-28.979145, -41.723484))
        make_face()
        with BuildLine():
            ThreePointArc((-33.821989, 23.211969), (-31.819078, 25.889549), (-29.60474, 28.395101))
            ThreePointArc((-29.60474, 28.395101), (-33.909859, 31.513978), (-39.157944, 32.361945))
            Line((-39.157944, 32.361945), (-39.64861, 31.7589))
            ThreePointArc((-39.64861, 31.7589), (-37.751153, 26.792906), (-33.821989, 23.211969))
        make_face()
        with BuildLine():
            ThreePointArc((-39.161381, -32.357784), (-33.913207, -31.510376), (-29.607757, -28.391956))
            ThreePointArc((-29.607757, -28.391956), (-31.821828, -25.886168), (-33.824454, -23.208376))
            ThreePointArc((-33.824454, -23.208376), (-37.753999, -26.788895), (-39.651984, -31.754687))
            Line((-39.651984, -31.754687), (-39.161381, -32.357784))
        make_face()
        with BuildLine():
            ThreePointArc((-38.830292, 13.226143), (-37.624057, 16.34481), (-36.167823, 19.354871))
            ThreePointArc((-36.167823, 19.354871), (-41.154759, 21.196584), (-46.437009, 20.597189))
            Line((-46.437009, 20.597189), (-46.746781, 19.884126))
            ThreePointArc((-46.746781, 19.884126), (-43.579877, 15.614213), (-38.830292, 13.226143))
        make_face()
        with BuildLine():
            ThreePointArc((-46.439197, -20.592256), (-41.157011, -21.192212), (-36.169879, -19.351028))
            ThreePointArc((-36.169879, -19.351028), (-37.625793, -16.340812), (-38.831697, -13.222018))
            ThreePointArc((-38.831697, -13.222018), (-43.581536, -15.609583), (-46.748893, -19.87916))
            Line((-46.748893, -19.87916), (-46.439197, -20.592256))
        make_face()
        with BuildLine():
            ThreePointArc((-40.95873, 2.259395), (-40.638631, 5.587851), (-40.048504, 8.879178))
            ThreePointArc((-40.048504, 8.879178), (-45.347399, 9.307136), (-50.272054, 7.304834))
            Line((-50.272054, 7.304834), (-50.377956, 6.534638))
            ThreePointArc((-50.377956, 6.534638), (-46.176482, 3.277485), (-40.95873, 2.259395))
        make_face()
        with BuildLine():
            ThreePointArc((-50.27283, -7.299494), (-45.348387, -9.302318), (-40.049447, -8.874923))
            ThreePointArc((-40.049447, -8.874923), (-40.639225, -5.583533), (-40.95897, -2.255043))
            ThreePointArc((-40.95897, -2.255043), (-46.17683, -3.27258), (-50.37865, -6.529286))
            Line((-50.37865, -6.529286), (-50.27283, -7.299494))
        make_face()
    extrude(amount=F1_DEPTH)


solid = f1.part
